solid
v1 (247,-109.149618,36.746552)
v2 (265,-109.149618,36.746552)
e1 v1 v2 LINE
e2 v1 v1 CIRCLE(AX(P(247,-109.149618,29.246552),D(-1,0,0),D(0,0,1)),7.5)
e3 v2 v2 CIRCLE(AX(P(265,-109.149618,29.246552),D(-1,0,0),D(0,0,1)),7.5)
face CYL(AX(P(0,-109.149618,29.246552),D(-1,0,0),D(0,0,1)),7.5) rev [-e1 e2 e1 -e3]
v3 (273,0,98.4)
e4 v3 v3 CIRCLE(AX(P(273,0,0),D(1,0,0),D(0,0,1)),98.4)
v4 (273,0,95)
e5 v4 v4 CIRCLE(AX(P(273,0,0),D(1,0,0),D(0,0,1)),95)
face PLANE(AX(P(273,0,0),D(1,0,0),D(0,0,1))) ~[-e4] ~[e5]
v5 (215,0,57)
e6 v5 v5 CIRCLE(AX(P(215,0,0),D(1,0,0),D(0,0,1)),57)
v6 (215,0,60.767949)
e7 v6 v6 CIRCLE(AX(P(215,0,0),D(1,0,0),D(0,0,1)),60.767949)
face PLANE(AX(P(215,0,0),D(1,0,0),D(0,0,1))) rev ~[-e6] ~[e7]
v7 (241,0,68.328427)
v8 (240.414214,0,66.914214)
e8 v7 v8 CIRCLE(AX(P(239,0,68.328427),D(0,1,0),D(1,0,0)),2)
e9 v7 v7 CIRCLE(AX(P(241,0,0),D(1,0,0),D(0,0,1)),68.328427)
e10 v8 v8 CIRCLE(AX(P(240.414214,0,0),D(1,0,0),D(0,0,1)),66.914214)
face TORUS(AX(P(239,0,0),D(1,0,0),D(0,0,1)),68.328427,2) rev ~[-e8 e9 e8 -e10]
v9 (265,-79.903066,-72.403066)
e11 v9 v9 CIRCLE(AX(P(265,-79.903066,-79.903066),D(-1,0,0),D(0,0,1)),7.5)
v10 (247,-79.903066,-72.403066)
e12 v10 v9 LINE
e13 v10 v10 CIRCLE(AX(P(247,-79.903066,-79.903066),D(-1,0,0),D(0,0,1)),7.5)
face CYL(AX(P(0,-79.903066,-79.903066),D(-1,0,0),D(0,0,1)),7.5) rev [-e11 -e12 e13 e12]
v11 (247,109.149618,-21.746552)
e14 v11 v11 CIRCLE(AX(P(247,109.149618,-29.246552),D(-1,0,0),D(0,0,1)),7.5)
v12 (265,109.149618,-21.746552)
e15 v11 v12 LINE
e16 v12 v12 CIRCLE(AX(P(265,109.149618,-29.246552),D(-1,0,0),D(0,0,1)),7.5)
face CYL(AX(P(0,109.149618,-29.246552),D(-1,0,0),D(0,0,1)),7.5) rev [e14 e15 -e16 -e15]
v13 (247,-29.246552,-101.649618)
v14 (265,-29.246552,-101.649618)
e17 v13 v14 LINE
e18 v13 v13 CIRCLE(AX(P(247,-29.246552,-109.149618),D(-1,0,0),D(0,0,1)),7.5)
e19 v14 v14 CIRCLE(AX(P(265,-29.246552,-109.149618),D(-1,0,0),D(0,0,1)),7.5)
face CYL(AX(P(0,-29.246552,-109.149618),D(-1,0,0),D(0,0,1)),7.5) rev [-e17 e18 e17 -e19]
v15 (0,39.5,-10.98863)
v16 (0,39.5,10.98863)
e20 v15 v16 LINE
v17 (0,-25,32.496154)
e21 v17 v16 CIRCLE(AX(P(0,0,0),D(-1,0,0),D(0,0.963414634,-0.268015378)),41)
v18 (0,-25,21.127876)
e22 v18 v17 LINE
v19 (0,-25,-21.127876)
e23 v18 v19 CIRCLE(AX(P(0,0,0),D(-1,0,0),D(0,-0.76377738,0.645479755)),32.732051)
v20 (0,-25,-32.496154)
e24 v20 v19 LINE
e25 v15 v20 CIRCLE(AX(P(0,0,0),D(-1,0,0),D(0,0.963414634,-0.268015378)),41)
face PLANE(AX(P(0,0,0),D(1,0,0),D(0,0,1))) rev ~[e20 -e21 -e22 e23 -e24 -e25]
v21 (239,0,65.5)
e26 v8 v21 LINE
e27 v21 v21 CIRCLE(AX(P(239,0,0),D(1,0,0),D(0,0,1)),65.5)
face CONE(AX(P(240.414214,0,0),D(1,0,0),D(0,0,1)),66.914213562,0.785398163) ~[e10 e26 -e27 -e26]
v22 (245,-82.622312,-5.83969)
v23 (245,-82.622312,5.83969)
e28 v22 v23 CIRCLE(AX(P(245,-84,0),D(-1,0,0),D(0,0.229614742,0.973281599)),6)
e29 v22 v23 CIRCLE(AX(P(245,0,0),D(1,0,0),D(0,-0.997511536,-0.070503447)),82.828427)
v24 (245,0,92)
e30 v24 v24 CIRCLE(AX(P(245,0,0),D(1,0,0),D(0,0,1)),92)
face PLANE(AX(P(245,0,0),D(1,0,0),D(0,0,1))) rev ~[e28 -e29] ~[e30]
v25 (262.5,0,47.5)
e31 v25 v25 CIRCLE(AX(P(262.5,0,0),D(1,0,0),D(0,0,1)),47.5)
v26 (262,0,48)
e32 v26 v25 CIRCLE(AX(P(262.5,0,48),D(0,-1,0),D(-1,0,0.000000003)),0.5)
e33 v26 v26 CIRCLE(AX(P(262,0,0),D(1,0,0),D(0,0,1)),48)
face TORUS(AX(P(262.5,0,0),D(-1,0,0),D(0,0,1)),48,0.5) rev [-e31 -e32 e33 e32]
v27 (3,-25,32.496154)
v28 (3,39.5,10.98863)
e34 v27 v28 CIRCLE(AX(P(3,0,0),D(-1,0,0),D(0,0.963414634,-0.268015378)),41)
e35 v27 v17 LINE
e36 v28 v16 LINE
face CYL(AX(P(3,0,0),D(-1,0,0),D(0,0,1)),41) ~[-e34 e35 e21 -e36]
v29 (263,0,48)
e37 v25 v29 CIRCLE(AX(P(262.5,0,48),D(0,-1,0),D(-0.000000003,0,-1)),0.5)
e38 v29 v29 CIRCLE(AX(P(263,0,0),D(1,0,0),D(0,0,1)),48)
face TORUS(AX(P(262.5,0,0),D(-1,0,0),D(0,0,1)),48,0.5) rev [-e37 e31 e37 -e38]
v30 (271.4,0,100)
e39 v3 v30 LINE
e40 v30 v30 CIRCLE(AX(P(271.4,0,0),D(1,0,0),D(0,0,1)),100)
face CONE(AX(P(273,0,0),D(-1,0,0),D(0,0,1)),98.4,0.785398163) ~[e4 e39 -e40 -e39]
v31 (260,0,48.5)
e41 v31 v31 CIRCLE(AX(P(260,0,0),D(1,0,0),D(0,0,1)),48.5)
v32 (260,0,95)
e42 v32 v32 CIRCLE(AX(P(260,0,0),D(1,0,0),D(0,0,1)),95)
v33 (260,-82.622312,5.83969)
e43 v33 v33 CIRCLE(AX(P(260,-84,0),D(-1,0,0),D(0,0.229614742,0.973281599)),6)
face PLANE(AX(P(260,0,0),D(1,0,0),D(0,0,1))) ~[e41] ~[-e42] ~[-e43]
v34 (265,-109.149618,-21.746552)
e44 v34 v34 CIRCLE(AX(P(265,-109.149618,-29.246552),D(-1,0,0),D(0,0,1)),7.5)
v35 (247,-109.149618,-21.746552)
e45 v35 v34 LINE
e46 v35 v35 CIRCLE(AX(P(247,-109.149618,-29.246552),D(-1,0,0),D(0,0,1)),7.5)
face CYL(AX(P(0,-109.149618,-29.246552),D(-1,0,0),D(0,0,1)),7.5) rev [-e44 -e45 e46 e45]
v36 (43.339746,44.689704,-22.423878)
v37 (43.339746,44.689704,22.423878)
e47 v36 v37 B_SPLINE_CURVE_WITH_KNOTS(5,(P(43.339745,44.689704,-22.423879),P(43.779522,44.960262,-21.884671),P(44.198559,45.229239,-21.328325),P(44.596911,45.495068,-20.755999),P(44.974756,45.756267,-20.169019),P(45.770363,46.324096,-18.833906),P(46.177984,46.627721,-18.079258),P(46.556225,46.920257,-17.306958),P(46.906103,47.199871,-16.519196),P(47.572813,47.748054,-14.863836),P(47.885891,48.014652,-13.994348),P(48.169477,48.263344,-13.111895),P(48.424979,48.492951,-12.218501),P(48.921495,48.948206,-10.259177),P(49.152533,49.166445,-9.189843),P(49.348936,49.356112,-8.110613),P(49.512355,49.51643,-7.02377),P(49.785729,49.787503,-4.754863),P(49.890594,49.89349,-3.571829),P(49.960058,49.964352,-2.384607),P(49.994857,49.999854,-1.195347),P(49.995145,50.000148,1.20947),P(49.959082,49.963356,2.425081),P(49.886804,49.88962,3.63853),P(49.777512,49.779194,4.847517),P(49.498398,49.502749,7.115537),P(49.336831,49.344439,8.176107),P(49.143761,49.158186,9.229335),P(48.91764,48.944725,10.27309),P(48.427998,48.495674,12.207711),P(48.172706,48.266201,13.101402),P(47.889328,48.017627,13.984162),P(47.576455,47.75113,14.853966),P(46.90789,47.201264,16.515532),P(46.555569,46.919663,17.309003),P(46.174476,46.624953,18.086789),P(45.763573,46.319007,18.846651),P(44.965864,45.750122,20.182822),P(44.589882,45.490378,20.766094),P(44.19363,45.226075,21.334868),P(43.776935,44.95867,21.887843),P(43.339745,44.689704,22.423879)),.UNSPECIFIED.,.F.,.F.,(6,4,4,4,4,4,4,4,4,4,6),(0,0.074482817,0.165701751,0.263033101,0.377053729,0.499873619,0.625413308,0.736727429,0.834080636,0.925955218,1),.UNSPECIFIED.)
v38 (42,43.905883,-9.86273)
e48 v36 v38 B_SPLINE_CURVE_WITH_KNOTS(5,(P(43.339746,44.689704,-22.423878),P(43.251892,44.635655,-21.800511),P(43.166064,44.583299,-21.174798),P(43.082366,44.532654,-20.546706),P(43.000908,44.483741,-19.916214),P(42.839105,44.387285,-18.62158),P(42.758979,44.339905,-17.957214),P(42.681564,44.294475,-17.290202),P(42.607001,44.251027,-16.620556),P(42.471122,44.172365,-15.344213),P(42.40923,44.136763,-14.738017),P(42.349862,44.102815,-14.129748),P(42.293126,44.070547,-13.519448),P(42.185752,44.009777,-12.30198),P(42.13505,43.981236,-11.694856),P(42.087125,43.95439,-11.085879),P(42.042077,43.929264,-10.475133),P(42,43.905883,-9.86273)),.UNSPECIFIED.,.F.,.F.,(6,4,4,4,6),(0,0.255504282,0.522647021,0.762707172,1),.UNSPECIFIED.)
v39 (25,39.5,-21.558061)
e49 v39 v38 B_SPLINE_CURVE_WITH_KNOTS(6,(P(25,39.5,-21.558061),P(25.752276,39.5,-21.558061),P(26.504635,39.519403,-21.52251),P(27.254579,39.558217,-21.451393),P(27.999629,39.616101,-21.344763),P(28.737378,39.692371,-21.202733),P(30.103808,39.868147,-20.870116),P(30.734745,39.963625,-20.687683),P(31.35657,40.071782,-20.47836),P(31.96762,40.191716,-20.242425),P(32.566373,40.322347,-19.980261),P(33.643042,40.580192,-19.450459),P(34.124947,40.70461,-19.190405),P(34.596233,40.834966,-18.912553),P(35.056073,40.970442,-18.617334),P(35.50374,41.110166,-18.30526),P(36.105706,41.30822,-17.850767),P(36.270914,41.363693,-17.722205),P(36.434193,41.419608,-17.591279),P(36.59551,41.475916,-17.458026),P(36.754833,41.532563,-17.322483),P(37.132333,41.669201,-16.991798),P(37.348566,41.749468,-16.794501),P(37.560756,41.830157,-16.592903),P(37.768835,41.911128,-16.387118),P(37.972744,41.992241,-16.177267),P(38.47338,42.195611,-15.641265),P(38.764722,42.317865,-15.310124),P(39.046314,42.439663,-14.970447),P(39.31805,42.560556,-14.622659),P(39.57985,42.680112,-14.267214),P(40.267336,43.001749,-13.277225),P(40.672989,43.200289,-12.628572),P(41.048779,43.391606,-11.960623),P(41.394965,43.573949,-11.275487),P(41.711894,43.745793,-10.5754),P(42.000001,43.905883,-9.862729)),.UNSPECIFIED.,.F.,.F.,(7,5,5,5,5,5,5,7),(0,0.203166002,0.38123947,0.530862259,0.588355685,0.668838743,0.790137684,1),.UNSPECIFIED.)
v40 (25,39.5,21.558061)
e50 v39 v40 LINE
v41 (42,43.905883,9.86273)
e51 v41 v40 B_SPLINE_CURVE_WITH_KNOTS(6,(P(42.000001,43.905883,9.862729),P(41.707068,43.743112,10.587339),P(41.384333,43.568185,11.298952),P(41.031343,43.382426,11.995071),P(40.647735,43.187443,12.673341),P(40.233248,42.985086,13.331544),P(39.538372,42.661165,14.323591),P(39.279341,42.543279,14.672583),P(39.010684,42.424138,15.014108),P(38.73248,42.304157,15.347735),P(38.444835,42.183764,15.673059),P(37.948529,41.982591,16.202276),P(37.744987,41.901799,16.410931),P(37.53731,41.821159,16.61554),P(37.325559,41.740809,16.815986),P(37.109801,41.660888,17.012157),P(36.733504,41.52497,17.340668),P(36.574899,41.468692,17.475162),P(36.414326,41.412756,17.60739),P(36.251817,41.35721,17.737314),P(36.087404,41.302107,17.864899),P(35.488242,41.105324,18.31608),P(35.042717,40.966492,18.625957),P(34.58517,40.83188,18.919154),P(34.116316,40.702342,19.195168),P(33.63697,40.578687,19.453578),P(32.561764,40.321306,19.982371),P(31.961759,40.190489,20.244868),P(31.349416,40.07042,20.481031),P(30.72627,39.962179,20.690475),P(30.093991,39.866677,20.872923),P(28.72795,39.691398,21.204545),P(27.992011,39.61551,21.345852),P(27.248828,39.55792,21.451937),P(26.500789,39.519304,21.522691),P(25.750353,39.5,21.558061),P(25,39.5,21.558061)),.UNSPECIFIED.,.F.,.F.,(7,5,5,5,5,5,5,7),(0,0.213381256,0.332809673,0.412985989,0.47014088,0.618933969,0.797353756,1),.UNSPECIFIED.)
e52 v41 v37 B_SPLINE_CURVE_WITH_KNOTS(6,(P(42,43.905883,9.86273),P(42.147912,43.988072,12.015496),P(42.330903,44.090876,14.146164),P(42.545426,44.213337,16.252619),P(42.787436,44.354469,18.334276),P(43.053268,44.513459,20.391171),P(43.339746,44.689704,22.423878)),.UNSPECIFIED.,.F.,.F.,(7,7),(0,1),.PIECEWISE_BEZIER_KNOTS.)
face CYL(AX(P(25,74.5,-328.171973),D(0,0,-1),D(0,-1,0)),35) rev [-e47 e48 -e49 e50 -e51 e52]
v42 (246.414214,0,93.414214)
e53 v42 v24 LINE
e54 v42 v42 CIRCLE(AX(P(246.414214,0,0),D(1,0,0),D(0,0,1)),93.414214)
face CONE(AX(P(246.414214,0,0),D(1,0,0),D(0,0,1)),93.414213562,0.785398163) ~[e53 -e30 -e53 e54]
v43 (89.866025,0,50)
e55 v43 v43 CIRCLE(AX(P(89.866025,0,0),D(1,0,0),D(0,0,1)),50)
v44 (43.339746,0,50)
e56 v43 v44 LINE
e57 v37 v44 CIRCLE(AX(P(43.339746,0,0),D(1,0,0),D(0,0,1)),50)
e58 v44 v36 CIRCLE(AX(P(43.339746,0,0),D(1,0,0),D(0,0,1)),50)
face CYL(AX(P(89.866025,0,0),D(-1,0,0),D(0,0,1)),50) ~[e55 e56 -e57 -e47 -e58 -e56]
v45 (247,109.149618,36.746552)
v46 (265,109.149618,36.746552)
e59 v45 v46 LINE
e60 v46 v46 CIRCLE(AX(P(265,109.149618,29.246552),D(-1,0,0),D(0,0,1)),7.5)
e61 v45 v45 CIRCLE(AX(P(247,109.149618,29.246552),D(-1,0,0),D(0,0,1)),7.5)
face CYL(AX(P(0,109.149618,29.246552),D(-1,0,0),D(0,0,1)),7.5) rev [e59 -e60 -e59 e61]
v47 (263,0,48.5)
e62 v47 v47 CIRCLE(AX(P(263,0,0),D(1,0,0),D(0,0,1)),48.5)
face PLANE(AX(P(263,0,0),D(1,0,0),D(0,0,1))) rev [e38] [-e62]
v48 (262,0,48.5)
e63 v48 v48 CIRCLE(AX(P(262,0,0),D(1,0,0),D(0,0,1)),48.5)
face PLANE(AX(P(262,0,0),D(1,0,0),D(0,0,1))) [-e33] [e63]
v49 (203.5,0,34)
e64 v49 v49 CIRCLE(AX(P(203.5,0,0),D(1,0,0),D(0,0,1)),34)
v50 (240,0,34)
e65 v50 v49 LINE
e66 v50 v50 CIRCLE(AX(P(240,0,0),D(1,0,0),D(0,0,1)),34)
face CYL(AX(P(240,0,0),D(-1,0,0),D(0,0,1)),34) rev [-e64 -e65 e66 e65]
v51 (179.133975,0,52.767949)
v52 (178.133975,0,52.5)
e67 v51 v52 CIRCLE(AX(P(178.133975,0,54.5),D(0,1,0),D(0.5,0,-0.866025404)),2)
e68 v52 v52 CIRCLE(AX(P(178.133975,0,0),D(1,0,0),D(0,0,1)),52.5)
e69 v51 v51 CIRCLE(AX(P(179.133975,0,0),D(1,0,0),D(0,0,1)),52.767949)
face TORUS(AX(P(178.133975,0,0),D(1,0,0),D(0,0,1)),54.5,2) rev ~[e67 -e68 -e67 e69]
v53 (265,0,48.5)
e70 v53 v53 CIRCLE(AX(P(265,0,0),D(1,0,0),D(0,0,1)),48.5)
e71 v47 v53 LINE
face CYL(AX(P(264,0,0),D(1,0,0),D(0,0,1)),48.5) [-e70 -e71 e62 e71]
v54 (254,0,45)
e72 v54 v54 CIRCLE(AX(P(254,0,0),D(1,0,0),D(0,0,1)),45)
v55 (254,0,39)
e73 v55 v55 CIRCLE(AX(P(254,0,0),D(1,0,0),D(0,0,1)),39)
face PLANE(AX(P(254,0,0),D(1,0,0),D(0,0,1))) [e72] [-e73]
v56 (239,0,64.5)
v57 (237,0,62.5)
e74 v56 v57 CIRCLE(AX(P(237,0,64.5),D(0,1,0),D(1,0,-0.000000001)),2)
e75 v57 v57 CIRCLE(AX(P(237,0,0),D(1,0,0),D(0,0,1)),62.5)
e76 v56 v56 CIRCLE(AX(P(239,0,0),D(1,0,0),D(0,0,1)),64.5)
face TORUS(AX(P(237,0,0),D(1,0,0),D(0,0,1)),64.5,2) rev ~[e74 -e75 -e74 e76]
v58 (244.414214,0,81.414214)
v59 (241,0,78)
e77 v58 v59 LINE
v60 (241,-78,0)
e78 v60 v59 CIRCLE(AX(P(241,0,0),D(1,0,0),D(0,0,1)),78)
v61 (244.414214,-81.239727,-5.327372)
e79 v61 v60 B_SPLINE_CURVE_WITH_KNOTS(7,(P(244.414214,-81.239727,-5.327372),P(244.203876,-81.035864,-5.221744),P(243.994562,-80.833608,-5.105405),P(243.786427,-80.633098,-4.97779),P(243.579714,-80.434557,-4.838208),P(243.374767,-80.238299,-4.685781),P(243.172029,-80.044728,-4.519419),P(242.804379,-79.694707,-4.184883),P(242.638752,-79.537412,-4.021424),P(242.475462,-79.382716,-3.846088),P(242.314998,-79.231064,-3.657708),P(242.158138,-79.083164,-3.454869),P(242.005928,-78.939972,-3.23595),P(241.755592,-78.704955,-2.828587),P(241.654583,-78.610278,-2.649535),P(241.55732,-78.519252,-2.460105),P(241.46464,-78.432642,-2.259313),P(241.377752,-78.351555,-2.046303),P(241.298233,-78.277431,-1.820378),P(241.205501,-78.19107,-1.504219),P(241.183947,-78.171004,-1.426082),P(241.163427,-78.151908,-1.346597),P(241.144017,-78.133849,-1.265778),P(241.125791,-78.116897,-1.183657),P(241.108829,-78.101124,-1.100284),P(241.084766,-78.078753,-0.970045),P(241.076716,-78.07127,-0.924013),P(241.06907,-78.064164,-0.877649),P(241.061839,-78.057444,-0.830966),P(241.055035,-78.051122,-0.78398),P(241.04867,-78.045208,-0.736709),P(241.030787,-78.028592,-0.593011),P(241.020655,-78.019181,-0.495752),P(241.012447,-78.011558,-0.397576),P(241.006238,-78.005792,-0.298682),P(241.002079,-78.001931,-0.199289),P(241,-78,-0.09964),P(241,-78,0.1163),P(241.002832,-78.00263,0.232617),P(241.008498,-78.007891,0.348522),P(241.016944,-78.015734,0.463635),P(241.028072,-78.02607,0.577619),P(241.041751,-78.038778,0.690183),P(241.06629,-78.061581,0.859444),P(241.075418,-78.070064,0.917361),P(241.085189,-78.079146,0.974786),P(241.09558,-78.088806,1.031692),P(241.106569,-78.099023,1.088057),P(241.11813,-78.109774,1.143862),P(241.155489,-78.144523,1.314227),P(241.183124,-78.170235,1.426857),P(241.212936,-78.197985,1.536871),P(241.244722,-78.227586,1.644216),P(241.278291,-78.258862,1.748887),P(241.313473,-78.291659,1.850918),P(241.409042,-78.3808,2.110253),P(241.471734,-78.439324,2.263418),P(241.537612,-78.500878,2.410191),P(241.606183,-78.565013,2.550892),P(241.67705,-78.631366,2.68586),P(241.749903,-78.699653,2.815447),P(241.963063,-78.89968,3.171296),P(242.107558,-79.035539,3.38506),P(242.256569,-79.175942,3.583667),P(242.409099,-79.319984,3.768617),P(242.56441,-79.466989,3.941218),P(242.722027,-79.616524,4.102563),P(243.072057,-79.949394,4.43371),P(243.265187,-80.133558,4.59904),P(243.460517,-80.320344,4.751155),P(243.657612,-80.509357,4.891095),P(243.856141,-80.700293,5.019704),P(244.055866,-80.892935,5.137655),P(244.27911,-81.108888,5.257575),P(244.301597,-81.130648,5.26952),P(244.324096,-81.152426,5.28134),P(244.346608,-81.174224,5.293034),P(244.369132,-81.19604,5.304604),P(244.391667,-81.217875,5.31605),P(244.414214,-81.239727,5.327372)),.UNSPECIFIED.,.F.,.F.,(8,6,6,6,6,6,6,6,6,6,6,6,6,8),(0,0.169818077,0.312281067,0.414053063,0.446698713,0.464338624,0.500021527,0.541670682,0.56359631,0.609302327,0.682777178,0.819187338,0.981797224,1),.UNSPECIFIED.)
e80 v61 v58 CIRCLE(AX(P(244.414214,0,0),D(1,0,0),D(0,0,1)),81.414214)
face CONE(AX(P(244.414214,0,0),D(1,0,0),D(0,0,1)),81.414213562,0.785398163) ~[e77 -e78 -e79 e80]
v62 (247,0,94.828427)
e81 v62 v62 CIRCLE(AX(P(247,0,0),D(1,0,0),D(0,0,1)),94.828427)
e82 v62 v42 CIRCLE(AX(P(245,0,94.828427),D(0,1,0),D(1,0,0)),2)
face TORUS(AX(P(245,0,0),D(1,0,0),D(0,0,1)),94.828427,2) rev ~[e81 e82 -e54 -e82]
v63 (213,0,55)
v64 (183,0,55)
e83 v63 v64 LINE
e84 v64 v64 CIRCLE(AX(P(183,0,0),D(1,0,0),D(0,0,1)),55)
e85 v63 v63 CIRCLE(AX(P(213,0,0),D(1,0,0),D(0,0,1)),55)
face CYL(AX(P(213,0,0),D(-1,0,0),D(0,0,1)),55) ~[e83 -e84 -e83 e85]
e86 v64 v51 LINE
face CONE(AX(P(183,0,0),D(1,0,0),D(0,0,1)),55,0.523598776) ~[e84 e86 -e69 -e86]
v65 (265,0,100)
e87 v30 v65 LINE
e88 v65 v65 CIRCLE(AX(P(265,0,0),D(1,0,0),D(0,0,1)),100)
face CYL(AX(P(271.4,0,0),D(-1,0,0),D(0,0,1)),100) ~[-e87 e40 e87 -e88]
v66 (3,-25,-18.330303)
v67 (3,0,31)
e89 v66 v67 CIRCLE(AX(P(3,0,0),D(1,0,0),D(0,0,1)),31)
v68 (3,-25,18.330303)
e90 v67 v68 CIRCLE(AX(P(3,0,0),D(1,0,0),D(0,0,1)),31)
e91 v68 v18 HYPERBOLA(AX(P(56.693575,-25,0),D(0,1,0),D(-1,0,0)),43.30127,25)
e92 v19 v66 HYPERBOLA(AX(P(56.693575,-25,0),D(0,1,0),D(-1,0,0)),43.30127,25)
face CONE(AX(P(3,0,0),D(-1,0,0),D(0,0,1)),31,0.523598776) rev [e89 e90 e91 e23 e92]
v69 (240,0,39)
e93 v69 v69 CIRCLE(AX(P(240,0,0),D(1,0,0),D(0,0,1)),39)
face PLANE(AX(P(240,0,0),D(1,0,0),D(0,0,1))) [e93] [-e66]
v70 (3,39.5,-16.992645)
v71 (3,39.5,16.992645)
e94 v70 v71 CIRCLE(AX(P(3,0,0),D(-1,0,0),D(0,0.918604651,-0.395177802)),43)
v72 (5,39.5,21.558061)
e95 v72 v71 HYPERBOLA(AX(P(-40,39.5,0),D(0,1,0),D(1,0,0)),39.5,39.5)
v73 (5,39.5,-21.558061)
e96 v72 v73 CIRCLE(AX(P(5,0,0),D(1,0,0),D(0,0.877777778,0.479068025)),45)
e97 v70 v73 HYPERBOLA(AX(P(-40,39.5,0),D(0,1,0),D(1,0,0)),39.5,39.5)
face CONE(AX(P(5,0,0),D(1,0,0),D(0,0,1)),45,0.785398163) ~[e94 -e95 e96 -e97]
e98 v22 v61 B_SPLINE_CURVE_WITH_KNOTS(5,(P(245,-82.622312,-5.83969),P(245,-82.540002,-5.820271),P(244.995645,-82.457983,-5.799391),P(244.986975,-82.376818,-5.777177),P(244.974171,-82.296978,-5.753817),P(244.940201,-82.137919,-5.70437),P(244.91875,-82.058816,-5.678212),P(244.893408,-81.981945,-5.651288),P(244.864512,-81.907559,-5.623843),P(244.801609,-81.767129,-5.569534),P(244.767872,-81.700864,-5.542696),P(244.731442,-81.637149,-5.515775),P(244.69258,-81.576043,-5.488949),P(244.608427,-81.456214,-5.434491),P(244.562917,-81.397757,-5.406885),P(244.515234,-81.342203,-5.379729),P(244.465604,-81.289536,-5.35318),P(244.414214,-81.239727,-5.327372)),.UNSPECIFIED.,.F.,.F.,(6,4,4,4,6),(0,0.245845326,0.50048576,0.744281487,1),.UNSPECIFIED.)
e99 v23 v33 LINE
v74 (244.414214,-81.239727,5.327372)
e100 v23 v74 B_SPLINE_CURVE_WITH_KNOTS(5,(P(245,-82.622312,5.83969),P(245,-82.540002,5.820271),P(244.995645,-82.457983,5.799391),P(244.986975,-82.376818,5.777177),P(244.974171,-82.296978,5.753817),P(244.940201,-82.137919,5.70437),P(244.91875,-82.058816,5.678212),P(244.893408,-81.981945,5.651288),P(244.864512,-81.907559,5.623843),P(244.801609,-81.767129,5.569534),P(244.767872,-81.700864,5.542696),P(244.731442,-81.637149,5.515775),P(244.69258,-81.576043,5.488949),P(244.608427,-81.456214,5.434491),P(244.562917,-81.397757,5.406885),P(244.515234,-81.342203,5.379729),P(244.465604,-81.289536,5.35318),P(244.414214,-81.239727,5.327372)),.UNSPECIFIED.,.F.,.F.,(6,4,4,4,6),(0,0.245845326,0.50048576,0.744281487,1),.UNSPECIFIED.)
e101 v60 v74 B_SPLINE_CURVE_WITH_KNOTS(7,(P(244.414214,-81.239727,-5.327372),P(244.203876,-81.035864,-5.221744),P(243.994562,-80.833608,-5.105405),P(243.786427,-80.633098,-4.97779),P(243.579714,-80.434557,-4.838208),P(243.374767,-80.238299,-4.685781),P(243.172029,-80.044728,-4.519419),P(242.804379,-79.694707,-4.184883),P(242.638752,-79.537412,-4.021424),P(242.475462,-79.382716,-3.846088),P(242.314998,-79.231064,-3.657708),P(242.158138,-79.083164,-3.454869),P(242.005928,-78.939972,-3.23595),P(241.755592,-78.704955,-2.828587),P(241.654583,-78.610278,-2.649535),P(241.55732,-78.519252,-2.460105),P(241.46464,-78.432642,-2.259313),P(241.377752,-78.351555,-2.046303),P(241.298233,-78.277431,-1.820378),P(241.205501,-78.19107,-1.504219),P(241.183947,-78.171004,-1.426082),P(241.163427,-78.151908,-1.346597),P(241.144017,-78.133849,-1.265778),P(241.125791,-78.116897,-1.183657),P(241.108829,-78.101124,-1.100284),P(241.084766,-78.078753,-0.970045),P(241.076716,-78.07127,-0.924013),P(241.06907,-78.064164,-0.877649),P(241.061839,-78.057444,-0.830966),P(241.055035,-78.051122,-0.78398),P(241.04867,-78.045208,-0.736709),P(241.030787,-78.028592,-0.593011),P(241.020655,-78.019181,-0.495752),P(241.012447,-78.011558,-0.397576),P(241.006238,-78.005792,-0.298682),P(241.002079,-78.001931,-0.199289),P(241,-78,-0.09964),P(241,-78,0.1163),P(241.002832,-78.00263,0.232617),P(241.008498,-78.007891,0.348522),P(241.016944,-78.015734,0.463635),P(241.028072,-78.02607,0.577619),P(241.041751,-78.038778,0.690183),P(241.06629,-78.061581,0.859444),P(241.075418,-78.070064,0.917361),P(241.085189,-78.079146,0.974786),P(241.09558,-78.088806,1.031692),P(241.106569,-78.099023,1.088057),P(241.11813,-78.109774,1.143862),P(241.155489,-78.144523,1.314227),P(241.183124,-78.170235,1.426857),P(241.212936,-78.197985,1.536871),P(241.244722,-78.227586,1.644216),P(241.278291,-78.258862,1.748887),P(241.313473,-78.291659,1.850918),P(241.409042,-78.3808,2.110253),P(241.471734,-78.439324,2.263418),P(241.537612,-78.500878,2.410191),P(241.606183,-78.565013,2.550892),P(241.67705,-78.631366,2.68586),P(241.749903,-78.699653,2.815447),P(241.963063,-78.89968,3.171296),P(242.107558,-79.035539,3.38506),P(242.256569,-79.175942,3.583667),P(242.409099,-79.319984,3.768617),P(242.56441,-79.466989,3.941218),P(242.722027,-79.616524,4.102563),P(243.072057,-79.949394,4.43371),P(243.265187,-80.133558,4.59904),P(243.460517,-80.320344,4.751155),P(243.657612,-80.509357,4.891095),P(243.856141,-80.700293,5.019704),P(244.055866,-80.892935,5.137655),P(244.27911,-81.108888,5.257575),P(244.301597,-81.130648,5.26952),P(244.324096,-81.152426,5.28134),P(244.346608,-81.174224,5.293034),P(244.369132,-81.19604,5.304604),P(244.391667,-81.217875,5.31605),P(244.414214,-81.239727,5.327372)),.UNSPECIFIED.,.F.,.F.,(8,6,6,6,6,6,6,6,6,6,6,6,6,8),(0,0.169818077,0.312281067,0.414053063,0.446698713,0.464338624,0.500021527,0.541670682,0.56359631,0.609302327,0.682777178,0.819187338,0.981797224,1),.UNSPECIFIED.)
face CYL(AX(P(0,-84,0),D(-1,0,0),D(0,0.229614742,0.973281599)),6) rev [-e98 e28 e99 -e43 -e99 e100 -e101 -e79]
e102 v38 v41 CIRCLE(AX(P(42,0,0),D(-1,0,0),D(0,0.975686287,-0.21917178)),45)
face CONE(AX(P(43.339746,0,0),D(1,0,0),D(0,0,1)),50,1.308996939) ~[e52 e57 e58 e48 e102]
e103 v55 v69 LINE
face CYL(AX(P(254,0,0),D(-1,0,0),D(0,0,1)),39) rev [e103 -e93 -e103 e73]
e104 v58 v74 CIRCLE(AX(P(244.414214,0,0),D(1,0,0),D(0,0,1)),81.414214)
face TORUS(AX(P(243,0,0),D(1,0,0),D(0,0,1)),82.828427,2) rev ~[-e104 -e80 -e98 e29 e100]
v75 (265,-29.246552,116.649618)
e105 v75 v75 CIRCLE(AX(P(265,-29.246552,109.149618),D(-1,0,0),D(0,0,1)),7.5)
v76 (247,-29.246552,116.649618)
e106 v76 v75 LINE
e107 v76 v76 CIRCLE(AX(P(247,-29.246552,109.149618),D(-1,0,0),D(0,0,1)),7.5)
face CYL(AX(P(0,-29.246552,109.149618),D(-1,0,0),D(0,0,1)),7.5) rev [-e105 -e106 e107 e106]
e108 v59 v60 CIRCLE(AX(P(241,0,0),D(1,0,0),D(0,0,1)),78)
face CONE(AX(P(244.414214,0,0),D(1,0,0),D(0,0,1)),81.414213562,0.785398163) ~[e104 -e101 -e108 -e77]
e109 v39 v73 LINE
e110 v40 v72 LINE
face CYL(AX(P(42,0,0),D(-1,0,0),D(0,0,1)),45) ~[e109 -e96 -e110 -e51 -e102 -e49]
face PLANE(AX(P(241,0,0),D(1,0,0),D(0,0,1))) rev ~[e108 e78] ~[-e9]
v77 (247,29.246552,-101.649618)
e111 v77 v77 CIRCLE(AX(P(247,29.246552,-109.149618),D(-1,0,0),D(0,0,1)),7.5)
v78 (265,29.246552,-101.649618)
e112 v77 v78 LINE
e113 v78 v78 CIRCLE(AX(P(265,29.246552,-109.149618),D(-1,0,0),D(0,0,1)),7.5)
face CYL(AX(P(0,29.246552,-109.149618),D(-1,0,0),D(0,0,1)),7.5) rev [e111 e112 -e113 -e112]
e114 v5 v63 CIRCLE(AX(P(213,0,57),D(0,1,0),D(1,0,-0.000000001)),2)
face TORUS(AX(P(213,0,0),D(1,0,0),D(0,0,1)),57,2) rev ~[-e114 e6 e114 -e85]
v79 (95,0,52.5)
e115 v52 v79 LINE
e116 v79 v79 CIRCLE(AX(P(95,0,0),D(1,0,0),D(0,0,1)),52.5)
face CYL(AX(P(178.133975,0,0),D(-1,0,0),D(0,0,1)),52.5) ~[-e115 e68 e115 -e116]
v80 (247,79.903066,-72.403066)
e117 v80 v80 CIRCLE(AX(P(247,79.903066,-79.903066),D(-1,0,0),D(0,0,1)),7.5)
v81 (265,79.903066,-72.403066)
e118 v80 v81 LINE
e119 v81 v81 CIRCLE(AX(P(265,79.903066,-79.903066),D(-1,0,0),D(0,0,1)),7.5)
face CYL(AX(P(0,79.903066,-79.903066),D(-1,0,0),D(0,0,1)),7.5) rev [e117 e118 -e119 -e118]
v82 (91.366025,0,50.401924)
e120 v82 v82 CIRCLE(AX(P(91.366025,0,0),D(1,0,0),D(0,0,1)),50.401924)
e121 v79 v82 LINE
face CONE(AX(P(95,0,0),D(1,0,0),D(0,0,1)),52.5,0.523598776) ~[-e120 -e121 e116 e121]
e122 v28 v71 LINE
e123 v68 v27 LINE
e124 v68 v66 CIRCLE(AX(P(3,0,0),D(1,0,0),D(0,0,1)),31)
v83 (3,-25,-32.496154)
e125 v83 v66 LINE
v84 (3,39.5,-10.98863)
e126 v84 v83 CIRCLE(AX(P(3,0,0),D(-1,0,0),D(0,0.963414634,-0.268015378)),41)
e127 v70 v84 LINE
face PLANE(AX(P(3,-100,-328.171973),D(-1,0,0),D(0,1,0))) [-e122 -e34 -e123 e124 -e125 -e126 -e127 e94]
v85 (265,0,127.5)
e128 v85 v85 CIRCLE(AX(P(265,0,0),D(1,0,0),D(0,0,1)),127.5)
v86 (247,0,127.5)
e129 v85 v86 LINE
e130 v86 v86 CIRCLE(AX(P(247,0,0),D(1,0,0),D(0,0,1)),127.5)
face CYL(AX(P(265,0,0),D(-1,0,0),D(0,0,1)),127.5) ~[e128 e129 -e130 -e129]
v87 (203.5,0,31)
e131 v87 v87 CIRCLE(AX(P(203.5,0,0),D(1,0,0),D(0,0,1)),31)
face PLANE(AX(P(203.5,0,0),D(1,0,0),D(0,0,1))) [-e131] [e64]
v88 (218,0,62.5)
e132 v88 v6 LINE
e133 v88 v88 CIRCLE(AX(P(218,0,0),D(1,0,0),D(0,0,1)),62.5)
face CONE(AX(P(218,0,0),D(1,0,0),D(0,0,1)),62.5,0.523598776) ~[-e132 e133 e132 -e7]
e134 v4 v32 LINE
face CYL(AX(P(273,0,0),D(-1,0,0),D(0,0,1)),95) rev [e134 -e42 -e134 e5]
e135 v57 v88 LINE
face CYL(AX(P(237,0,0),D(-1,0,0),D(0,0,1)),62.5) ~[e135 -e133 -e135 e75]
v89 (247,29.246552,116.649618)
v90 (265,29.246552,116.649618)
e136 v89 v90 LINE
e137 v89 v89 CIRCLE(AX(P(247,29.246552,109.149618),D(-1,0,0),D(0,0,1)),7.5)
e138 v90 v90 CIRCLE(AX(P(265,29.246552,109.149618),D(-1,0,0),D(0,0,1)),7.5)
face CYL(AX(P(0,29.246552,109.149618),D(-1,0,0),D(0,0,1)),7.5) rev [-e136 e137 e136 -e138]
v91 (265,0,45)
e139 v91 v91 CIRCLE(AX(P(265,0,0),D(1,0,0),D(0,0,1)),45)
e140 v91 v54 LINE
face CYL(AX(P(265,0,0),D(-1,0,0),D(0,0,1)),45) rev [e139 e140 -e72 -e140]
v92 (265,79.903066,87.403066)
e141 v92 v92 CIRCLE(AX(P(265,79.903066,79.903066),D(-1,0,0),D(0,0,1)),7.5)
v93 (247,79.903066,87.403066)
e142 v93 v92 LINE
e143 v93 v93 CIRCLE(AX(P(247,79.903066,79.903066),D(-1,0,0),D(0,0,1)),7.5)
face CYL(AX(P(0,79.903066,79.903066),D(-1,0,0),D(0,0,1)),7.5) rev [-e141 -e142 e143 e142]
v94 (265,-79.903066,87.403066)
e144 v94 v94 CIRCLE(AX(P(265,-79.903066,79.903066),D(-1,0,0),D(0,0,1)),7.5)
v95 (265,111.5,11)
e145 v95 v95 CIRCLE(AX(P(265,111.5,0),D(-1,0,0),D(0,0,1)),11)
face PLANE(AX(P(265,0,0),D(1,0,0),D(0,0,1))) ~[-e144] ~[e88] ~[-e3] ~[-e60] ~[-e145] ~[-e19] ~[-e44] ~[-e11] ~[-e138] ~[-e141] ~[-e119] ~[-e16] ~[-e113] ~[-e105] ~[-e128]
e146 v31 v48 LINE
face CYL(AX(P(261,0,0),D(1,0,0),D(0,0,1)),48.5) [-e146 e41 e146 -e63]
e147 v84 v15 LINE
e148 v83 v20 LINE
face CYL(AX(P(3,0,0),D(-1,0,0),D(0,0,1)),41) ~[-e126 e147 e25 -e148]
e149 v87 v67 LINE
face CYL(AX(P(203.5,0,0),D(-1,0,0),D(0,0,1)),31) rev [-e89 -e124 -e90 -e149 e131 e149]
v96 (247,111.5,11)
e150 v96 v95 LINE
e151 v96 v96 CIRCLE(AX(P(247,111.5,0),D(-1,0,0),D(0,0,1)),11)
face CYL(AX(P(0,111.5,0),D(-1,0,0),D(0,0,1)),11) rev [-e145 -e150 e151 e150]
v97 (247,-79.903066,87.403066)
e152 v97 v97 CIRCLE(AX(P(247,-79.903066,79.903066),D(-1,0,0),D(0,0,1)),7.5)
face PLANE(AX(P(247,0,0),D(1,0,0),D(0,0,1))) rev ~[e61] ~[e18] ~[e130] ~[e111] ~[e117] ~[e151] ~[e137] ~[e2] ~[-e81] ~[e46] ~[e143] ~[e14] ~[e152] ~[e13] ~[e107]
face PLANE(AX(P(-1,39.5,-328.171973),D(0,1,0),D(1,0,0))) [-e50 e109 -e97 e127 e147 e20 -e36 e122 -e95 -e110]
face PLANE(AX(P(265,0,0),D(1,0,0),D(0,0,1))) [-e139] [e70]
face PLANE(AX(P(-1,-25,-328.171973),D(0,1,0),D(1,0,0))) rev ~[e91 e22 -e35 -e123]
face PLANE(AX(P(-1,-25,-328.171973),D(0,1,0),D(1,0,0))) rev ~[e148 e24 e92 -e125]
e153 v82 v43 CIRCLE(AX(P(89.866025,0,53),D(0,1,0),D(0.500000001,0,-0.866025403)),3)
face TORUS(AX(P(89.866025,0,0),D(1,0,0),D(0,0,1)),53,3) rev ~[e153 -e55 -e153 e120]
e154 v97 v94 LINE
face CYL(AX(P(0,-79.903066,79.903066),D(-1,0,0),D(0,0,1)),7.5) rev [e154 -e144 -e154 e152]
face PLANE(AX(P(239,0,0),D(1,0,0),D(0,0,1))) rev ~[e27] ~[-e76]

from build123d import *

# Parameters (mm, degrees)
SKETCH_3_W                    = 2
SKETCH_3_H                    = 46.5
SKETCH_5_W                    = 2
SKETCH_5_H                    = 46.5
SKETCH_6_R                    = 7.5
CUT_EXTRUDE_1_DEPTH           = 328.171973127
SKETCH_7_R                    = 7.5
CUT_EXTRUDE_2_DEPTH           = 328.171973127
SKETCH_8_R                    = 7.5
CUT_EXTRUDE_3_DEPTH           = 328.171973127
SKETCH_9_R                    = 7.5
CUT_EXTRUDE_4_DEPTH           = 328.171973127
SKETCH_10_R                   = 7.5
CUT_EXTRUDE_5_DEPTH           = 328.171973127
SKETCH_11_R                   = 7.5
CUT_EXTRUDE_6_DEPTH           = 328.171973127
SKETCH_12_R                   = 7.5
CUT_EXTRUDE_7_DEPTH           = 328.171973127
SKETCH_13_R                   = 7.5
CUT_EXTRUDE_8_DEPTH           = 328.171973127
SKETCH_14_R                   = 7.5
CUT_EXTRUDE_9_DEPTH           = 328.171973127
SKETCH_15_R                   = 7.5
CUT_EXTRUDE_10_DEPTH          = 328.171973127
SKETCH_16_R                   = 7.5
CUT_EXTRUDE_11_DEPTH          = 328.171973127
SKETCH_17_R                   = 7.5
CUT_EXTRUDE_12_DEPTH          = 328.171973127
SKETCH_18_R                   = 11
CUT_EXTRUDE_13_DEPTH          = 328.171973127
SKETCH_19_R                   = 6
CUT_EXTRUDE_14_DEPTH          = 328.171973127
LEFT_FLAT_84_5_R35_DEPTH      = 328.171973127
LEFT_FLAT_84_5_R35_DEPTH_BACK = 328.171973127
LEFT_END_BOTTOM_20_DEPTH      = 328.171973127
LEFT_END_BOTTOM_20_DEPTH_BACK = 328.171973127
SKETCH_21_W                   = 4
SKETCH_21_H                   = 75


with BuildPart() as part:
    # Эскиз1 → Повернуть1 (revolve)
    with BuildSketch(Plane.XY, mode=Mode.PRIVATE) as revolve_1_sk:
        with BuildLine():
            Line((0, 0), (273, 0))
            Line((273, 0), (273, 98.4))
            Line((273, 98.4), (271.4, 100))
            Line((271.4, 100), (265, 100))
            Line((265, 100), (265, 127.5))
            Line((265, 127.5), (247, 127.5))
            Line((247, 127.5), (247, 94.828427125))
            ThreePointArc((247, 94.828427125), (246.847759065, 94.06306026), (246.414213562, 93.414213562))
            Line((246.414213562, 93.414213562), (245, 92))
            Line((245, 92), (245, 82.828427125))
            ThreePointArc((245, 82.828427125), (244.847759065, 82.06306026), (244.414213562, 81.414213562))
            Line((244.414213562, 81.414213562), (241, 78))
            Line((241, 78), (241, 68.328427125))
            ThreePointArc((241, 68.328427125), (240.847759065, 67.56306026), (240.414213562, 66.914213562))
            Line((240.414213562, 66.914213562), (239, 65.5))
            Line((239, 65.5), (239, 64.5))
            ThreePointArc((239, 64.5), (238.414213562, 63.085786438), (237, 62.5))
            Line((237, 62.5), (218, 62.5))
            Line((218, 62.5), (215, 60.767949192))
            Line((215, 60.767949192), (215, 57))
            ThreePointArc((215, 57), (214.414213562, 55.585786438), (213, 55))
            Line((213, 55), (183, 55))
            Line((183, 55), (179.133974596, 52.767949192))
            ThreePointArc((179.133974596, 52.767949192), (178.651612686, 52.568148347), (178.133974596, 52.5))
            Line((178.133974596, 52.5), (95, 52.5))
            Line((95, 52.5), (91.366025404, 50.401923789))
            ThreePointArc((91.366025404, 50.401923789), (90.642482539, 50.102222521), (89.866025404, 50))
            Line((89.866025404, 50), (43.339745962, 50))
            Line((43.339745962, 50), (42, 45))
            Line((42, 45), (5, 45))
            Line((5, 45), (3, 43))
            Line((3, 43), (3, 41))
            Line((3, 41), (0, 41))
            Line((0, 41), (0, 0))
        make_face()
    revolve(revolve_1_sk.sketch.rotate(Axis((0, 0, 0), (1, 0, 0)), 90), axis=Axis((0, 0, 0), (1, 0, 0)))

    # Эскиз2 → Вырез-Повернуть1 (revolve, cut)
    with BuildSketch(Plane.XY, mode=Mode.PRIVATE) as cut_revolve_1_sk:
        Polygon((0, 0), (273, 0), (273, 95), (265, 95), (265, 45), (254, 45), (254, 39), (240, 39), (240, 34), (203.5, 34), (203.5, 31), (3, 31), (0, 32.732050808), align=None)
    revolve(cut_revolve_1_sk.sketch.rotate(Axis((0, 0, 0), (1, 0, 0)), 90), axis=Axis((0, 0, 0), (1, 0, 0)), mode=Mode.SUBTRACT)

    # Эскиз3 → Rear_recess_left (revolve, cut)
    with BuildSketch(Plane.XY, mode=Mode.PRIVATE) as rear_recess_left_sk:
        with Locations((261, 71.75)):
            Rectangle(SKETCH_3_W, SKETCH_3_H)
    revolve(rear_recess_left_sk.sketch.rotate(Axis((0, 0, 0), (1, 0, 0)), 90), axis=Axis((0, 0, 0), (1, 0, 0)), mode=Mode.SUBTRACT)

    # Эскиз4 → Collar_groove_nominal (revolve, cut)
    with BuildSketch(Plane.XY, mode=Mode.PRIVATE) as collar_groove_nominal_sk:
        with BuildLine():
            Line((263, 48), (263, 95))
            Line((263, 95), (262, 95))
            Line((262, 95), (262, 48))
            ThreePointArc((262, 48), (262.146446609, 47.646446609), (262.5, 47.5))
            ThreePointArc((262.5, 47.5), (262.853553391, 47.646446609), (263, 48))
        make_face()
    revolve(collar_groove_nominal_sk.sketch.rotate(Axis((0, 0, 0), (1, 0, 0)), 90), axis=Axis((0, 0, 0), (1, 0, 0)), mode=Mode.SUBTRACT)

    # Эскиз5 → Rear_recess_lip (revolve, cut)
    with BuildSketch(Plane.XY, mode=Mode.PRIVATE) as rear_recess_lip_sk:
        with Locations((264, 71.75)):
            Rectangle(SKETCH_5_W, SKETCH_5_H)
    revolve(rear_recess_lip_sk.sketch.rotate(Axis((0, 0, 0), (1, 0, 0)), 90), axis=Axis((0, 0, 0), (1, 0, 0)), mode=Mode.SUBTRACT)

    # Эскиз6 → Вырез-Вытянуть1 (cut, through all)
    with BuildSketch(Plane(origin=(0, 0, 0), x_dir=(0, 0, -1), z_dir=(1, 0, 0))):
        with Locations(Location((109.149618371, 29.246552097, 0), (0, 0, 180))):
            Circle(SKETCH_6_R)
    extrude(amount=CUT_EXTRUDE_1_DEPTH, mode=Mode.SUBTRACT)

    # Эскиз7 → Вырез-Вытянуть2 (cut, through all)
    with BuildSketch(Plane(origin=(0, 0, 0), x_dir=(0, 0, -1), z_dir=(1, 0, 0))):
        with Locations(Location((79.903066274, 79.903066274, 0), (0, 0, 180))):
            Circle(SKETCH_7_R)
    extrude(amount=CUT_EXTRUDE_2_DEPTH, mode=Mode.SUBTRACT)

    # Эскиз8 → Вырез-Вытянуть3 (cut, through all)
    with BuildSketch(Plane(origin=(0, 0, 0), x_dir=(0, 0, -1), z_dir=(1, 0, 0))):
        with Locations(Location((29.246552097, 109.149618371, 0), (0, 0, 180))):
            Circle(SKETCH_8_R)
    extrude(amount=CUT_EXTRUDE_3_DEPTH, mode=Mode.SUBTRACT)

    # Эскиз9 → Вырез-Вытянуть4 (cut, through all)
    with BuildSketch(Plane(origin=(0, 0, 0), x_dir=(0, 0, -1), z_dir=(1, 0, 0))):
        with Locations(Location((-29.246552097, 109.149618371, 0), (0, 0, 180))):
            Circle(SKETCH_9_R)
    extrude(amount=CUT_EXTRUDE_4_DEPTH, mode=Mode.SUBTRACT)

    # Эскиз10 → Вырез-Вытянуть5 (cut, through all)
    with BuildSketch(Plane(origin=(0, 0, 0), x_dir=(0, 0, -1), z_dir=(1, 0, 0))):
        with Locations(Location((-79.903066274, 79.903066274, 0), (0, 0, 180))):
            Circle(SKETCH_10_R)
    extrude(amount=CUT_EXTRUDE_5_DEPTH, mode=Mode.SUBTRACT)

    # Эскиз11 → Вырез-Вытянуть6 (cut, through all)
    with BuildSketch(Plane(origin=(0, 0, 0), x_dir=(0, 0, -1), z_dir=(1, 0, 0))):
        with Locations(Location((-109.149618371, 29.246552097, 0), (0, 0, 180))):
            Circle(SKETCH_11_R)
    extrude(amount=CUT_EXTRUDE_6_DEPTH, mode=Mode.SUBTRACT)

    # Эскиз12 → Вырез-Вытянуть7 (cut, through all)
    with BuildSketch(Plane(origin=(0, 0, 0), x_dir=(0, 0, -1), z_dir=(1, 0, 0))):
        with Locations(Location((-109.149618371, -29.246552097, 0), (0, 0, 180))):
            Circle(SKETCH_12_R)
    extrude(amount=CUT_EXTRUDE_7_DEPTH, mode=Mode.SUBTRACT)

    # Эскиз13 → Вырез-Вытянуть8 (cut, through all)
    with BuildSketch(Plane(origin=(0, 0, 0), x_dir=(0, 0, -1), z_dir=(1, 0, 0))):
        with Locations(Location((-79.903066274, -79.903066274, 0), (0, 0, 180))):
            Circle(SKETCH_13_R)
    extrude(amount=CUT_EXTRUDE_8_DEPTH, mode=Mode.SUBTRACT)

    # Эскиз14 → Вырез-Вытянуть9 (cut, through all)
    with BuildSketch(Plane(origin=(0, 0, 0), x_dir=(0, 0, -1), z_dir=(1, 0, 0))):
        with Locations(Location((-29.246552097, -109.149618371, 0), (0, 0, 180))):
            Circle(SKETCH_14_R)
    extrude(amount=CUT_EXTRUDE_9_DEPTH, mode=Mode.SUBTRACT)

    # Эскиз15 → Вырез-Вытянуть10 (cut, through all)
    with BuildSketch(Plane(origin=(0, 0, 0), x_dir=(0, 0, -1), z_dir=(1, 0, 0))):
        with Locations(Location((29.246552097, -109.149618371, 0), (0, 0, 180))):
            Circle(SKETCH_15_R)
    extrude(amount=CUT_EXTRUDE_10_DEPTH, mode=Mode.SUBTRACT)

    # Эскиз16 → Вырез-Вытянуть11 (cut, through all)
    with BuildSketch(Plane(origin=(0, 0, 0), x_dir=(0, 0, -1), z_dir=(1, 0, 0))):
        with Locations(Location((79.903066274, -79.903066274, 0), (0, 0, 180))):
            Circle(SKETCH_16_R)
    extrude(amount=CUT_EXTRUDE_11_DEPTH, mode=Mode.SUBTRACT)

    # Эскиз17 → Вырез-Вытянуть12 (cut, through all)
    with BuildSketch(Plane(origin=(0, 0, 0), x_dir=(0, 0, -1), z_dir=(1, 0, 0))):
        with Locations(Location((109.149618371, -29.246552097, 0), (0, 0, 180))):
            Circle(SKETCH_17_R)
    extrude(amount=CUT_EXTRUDE_12_DEPTH, mode=Mode.SUBTRACT)

    # Эскиз18 → Вырез-Вытянуть13 (cut, through all)
    with BuildSketch(Plane(origin=(0, 0, 0), x_dir=(0, 0, -1), z_dir=(1, 0, 0))):
        with Locations(Location((0, 111.5, 0), (0, 0, 180))):
            Circle(SKETCH_18_R)
    extrude(amount=CUT_EXTRUDE_13_DEPTH, mode=Mode.SUBTRACT)

    # Эскиз19 → Вырез-Вытянуть14 (cut, through all)
    with BuildSketch(Plane(origin=(0, 0, 0), x_dir=(0, 0, -1), z_dir=(1, 0, 0))):
        with Locations(Location((0, -84, 0), (0, 0, 166.725608927))):
            Circle(SKETCH_19_R)
    extrude(amount=CUT_EXTRUDE_14_DEPTH, mode=Mode.SUBTRACT)

    # Эскиз20 → Left_flat_84_5_R35 (cut, two sides: drawn at the far end of the back side and taken through both)
    with BuildSketch(Plane.XY.offset(-LEFT_FLAT_84_5_R35_DEPTH_BACK)):
        with BuildLine():
            Line((-1, 39.5), (25, 39.5))
            ThreePointArc((25, 39.5), (49.748737342, 49.751262658), (60, 74.5))
            Line((60, 74.5), (60, 150))
            Line((60, 150), (-1, 150))
            Line((-1, 150), (-1, 39.5))
        make_face()
    extrude(amount=LEFT_FLAT_84_5_R35_DEPTH + LEFT_FLAT_84_5_R35_DEPTH_BACK, mode=Mode.SUBTRACT)

    # Эскиз21 → Left_end_bottom_20 (cut, two sides: drawn at the far end of the back side and taken through both)
    with BuildSketch(Plane.XY.offset(-LEFT_END_BOTTOM_20_DEPTH_BACK)):
        with Locations((1, -62.5)):
            Rectangle(SKETCH_21_W, SKETCH_21_H)
    extrude(amount=LEFT_END_BOTTOM_20_DEPTH + LEFT_END_BOTTOM_20_DEPTH_BACK, mode=Mode.SUBTRACT)


solid = part.part
